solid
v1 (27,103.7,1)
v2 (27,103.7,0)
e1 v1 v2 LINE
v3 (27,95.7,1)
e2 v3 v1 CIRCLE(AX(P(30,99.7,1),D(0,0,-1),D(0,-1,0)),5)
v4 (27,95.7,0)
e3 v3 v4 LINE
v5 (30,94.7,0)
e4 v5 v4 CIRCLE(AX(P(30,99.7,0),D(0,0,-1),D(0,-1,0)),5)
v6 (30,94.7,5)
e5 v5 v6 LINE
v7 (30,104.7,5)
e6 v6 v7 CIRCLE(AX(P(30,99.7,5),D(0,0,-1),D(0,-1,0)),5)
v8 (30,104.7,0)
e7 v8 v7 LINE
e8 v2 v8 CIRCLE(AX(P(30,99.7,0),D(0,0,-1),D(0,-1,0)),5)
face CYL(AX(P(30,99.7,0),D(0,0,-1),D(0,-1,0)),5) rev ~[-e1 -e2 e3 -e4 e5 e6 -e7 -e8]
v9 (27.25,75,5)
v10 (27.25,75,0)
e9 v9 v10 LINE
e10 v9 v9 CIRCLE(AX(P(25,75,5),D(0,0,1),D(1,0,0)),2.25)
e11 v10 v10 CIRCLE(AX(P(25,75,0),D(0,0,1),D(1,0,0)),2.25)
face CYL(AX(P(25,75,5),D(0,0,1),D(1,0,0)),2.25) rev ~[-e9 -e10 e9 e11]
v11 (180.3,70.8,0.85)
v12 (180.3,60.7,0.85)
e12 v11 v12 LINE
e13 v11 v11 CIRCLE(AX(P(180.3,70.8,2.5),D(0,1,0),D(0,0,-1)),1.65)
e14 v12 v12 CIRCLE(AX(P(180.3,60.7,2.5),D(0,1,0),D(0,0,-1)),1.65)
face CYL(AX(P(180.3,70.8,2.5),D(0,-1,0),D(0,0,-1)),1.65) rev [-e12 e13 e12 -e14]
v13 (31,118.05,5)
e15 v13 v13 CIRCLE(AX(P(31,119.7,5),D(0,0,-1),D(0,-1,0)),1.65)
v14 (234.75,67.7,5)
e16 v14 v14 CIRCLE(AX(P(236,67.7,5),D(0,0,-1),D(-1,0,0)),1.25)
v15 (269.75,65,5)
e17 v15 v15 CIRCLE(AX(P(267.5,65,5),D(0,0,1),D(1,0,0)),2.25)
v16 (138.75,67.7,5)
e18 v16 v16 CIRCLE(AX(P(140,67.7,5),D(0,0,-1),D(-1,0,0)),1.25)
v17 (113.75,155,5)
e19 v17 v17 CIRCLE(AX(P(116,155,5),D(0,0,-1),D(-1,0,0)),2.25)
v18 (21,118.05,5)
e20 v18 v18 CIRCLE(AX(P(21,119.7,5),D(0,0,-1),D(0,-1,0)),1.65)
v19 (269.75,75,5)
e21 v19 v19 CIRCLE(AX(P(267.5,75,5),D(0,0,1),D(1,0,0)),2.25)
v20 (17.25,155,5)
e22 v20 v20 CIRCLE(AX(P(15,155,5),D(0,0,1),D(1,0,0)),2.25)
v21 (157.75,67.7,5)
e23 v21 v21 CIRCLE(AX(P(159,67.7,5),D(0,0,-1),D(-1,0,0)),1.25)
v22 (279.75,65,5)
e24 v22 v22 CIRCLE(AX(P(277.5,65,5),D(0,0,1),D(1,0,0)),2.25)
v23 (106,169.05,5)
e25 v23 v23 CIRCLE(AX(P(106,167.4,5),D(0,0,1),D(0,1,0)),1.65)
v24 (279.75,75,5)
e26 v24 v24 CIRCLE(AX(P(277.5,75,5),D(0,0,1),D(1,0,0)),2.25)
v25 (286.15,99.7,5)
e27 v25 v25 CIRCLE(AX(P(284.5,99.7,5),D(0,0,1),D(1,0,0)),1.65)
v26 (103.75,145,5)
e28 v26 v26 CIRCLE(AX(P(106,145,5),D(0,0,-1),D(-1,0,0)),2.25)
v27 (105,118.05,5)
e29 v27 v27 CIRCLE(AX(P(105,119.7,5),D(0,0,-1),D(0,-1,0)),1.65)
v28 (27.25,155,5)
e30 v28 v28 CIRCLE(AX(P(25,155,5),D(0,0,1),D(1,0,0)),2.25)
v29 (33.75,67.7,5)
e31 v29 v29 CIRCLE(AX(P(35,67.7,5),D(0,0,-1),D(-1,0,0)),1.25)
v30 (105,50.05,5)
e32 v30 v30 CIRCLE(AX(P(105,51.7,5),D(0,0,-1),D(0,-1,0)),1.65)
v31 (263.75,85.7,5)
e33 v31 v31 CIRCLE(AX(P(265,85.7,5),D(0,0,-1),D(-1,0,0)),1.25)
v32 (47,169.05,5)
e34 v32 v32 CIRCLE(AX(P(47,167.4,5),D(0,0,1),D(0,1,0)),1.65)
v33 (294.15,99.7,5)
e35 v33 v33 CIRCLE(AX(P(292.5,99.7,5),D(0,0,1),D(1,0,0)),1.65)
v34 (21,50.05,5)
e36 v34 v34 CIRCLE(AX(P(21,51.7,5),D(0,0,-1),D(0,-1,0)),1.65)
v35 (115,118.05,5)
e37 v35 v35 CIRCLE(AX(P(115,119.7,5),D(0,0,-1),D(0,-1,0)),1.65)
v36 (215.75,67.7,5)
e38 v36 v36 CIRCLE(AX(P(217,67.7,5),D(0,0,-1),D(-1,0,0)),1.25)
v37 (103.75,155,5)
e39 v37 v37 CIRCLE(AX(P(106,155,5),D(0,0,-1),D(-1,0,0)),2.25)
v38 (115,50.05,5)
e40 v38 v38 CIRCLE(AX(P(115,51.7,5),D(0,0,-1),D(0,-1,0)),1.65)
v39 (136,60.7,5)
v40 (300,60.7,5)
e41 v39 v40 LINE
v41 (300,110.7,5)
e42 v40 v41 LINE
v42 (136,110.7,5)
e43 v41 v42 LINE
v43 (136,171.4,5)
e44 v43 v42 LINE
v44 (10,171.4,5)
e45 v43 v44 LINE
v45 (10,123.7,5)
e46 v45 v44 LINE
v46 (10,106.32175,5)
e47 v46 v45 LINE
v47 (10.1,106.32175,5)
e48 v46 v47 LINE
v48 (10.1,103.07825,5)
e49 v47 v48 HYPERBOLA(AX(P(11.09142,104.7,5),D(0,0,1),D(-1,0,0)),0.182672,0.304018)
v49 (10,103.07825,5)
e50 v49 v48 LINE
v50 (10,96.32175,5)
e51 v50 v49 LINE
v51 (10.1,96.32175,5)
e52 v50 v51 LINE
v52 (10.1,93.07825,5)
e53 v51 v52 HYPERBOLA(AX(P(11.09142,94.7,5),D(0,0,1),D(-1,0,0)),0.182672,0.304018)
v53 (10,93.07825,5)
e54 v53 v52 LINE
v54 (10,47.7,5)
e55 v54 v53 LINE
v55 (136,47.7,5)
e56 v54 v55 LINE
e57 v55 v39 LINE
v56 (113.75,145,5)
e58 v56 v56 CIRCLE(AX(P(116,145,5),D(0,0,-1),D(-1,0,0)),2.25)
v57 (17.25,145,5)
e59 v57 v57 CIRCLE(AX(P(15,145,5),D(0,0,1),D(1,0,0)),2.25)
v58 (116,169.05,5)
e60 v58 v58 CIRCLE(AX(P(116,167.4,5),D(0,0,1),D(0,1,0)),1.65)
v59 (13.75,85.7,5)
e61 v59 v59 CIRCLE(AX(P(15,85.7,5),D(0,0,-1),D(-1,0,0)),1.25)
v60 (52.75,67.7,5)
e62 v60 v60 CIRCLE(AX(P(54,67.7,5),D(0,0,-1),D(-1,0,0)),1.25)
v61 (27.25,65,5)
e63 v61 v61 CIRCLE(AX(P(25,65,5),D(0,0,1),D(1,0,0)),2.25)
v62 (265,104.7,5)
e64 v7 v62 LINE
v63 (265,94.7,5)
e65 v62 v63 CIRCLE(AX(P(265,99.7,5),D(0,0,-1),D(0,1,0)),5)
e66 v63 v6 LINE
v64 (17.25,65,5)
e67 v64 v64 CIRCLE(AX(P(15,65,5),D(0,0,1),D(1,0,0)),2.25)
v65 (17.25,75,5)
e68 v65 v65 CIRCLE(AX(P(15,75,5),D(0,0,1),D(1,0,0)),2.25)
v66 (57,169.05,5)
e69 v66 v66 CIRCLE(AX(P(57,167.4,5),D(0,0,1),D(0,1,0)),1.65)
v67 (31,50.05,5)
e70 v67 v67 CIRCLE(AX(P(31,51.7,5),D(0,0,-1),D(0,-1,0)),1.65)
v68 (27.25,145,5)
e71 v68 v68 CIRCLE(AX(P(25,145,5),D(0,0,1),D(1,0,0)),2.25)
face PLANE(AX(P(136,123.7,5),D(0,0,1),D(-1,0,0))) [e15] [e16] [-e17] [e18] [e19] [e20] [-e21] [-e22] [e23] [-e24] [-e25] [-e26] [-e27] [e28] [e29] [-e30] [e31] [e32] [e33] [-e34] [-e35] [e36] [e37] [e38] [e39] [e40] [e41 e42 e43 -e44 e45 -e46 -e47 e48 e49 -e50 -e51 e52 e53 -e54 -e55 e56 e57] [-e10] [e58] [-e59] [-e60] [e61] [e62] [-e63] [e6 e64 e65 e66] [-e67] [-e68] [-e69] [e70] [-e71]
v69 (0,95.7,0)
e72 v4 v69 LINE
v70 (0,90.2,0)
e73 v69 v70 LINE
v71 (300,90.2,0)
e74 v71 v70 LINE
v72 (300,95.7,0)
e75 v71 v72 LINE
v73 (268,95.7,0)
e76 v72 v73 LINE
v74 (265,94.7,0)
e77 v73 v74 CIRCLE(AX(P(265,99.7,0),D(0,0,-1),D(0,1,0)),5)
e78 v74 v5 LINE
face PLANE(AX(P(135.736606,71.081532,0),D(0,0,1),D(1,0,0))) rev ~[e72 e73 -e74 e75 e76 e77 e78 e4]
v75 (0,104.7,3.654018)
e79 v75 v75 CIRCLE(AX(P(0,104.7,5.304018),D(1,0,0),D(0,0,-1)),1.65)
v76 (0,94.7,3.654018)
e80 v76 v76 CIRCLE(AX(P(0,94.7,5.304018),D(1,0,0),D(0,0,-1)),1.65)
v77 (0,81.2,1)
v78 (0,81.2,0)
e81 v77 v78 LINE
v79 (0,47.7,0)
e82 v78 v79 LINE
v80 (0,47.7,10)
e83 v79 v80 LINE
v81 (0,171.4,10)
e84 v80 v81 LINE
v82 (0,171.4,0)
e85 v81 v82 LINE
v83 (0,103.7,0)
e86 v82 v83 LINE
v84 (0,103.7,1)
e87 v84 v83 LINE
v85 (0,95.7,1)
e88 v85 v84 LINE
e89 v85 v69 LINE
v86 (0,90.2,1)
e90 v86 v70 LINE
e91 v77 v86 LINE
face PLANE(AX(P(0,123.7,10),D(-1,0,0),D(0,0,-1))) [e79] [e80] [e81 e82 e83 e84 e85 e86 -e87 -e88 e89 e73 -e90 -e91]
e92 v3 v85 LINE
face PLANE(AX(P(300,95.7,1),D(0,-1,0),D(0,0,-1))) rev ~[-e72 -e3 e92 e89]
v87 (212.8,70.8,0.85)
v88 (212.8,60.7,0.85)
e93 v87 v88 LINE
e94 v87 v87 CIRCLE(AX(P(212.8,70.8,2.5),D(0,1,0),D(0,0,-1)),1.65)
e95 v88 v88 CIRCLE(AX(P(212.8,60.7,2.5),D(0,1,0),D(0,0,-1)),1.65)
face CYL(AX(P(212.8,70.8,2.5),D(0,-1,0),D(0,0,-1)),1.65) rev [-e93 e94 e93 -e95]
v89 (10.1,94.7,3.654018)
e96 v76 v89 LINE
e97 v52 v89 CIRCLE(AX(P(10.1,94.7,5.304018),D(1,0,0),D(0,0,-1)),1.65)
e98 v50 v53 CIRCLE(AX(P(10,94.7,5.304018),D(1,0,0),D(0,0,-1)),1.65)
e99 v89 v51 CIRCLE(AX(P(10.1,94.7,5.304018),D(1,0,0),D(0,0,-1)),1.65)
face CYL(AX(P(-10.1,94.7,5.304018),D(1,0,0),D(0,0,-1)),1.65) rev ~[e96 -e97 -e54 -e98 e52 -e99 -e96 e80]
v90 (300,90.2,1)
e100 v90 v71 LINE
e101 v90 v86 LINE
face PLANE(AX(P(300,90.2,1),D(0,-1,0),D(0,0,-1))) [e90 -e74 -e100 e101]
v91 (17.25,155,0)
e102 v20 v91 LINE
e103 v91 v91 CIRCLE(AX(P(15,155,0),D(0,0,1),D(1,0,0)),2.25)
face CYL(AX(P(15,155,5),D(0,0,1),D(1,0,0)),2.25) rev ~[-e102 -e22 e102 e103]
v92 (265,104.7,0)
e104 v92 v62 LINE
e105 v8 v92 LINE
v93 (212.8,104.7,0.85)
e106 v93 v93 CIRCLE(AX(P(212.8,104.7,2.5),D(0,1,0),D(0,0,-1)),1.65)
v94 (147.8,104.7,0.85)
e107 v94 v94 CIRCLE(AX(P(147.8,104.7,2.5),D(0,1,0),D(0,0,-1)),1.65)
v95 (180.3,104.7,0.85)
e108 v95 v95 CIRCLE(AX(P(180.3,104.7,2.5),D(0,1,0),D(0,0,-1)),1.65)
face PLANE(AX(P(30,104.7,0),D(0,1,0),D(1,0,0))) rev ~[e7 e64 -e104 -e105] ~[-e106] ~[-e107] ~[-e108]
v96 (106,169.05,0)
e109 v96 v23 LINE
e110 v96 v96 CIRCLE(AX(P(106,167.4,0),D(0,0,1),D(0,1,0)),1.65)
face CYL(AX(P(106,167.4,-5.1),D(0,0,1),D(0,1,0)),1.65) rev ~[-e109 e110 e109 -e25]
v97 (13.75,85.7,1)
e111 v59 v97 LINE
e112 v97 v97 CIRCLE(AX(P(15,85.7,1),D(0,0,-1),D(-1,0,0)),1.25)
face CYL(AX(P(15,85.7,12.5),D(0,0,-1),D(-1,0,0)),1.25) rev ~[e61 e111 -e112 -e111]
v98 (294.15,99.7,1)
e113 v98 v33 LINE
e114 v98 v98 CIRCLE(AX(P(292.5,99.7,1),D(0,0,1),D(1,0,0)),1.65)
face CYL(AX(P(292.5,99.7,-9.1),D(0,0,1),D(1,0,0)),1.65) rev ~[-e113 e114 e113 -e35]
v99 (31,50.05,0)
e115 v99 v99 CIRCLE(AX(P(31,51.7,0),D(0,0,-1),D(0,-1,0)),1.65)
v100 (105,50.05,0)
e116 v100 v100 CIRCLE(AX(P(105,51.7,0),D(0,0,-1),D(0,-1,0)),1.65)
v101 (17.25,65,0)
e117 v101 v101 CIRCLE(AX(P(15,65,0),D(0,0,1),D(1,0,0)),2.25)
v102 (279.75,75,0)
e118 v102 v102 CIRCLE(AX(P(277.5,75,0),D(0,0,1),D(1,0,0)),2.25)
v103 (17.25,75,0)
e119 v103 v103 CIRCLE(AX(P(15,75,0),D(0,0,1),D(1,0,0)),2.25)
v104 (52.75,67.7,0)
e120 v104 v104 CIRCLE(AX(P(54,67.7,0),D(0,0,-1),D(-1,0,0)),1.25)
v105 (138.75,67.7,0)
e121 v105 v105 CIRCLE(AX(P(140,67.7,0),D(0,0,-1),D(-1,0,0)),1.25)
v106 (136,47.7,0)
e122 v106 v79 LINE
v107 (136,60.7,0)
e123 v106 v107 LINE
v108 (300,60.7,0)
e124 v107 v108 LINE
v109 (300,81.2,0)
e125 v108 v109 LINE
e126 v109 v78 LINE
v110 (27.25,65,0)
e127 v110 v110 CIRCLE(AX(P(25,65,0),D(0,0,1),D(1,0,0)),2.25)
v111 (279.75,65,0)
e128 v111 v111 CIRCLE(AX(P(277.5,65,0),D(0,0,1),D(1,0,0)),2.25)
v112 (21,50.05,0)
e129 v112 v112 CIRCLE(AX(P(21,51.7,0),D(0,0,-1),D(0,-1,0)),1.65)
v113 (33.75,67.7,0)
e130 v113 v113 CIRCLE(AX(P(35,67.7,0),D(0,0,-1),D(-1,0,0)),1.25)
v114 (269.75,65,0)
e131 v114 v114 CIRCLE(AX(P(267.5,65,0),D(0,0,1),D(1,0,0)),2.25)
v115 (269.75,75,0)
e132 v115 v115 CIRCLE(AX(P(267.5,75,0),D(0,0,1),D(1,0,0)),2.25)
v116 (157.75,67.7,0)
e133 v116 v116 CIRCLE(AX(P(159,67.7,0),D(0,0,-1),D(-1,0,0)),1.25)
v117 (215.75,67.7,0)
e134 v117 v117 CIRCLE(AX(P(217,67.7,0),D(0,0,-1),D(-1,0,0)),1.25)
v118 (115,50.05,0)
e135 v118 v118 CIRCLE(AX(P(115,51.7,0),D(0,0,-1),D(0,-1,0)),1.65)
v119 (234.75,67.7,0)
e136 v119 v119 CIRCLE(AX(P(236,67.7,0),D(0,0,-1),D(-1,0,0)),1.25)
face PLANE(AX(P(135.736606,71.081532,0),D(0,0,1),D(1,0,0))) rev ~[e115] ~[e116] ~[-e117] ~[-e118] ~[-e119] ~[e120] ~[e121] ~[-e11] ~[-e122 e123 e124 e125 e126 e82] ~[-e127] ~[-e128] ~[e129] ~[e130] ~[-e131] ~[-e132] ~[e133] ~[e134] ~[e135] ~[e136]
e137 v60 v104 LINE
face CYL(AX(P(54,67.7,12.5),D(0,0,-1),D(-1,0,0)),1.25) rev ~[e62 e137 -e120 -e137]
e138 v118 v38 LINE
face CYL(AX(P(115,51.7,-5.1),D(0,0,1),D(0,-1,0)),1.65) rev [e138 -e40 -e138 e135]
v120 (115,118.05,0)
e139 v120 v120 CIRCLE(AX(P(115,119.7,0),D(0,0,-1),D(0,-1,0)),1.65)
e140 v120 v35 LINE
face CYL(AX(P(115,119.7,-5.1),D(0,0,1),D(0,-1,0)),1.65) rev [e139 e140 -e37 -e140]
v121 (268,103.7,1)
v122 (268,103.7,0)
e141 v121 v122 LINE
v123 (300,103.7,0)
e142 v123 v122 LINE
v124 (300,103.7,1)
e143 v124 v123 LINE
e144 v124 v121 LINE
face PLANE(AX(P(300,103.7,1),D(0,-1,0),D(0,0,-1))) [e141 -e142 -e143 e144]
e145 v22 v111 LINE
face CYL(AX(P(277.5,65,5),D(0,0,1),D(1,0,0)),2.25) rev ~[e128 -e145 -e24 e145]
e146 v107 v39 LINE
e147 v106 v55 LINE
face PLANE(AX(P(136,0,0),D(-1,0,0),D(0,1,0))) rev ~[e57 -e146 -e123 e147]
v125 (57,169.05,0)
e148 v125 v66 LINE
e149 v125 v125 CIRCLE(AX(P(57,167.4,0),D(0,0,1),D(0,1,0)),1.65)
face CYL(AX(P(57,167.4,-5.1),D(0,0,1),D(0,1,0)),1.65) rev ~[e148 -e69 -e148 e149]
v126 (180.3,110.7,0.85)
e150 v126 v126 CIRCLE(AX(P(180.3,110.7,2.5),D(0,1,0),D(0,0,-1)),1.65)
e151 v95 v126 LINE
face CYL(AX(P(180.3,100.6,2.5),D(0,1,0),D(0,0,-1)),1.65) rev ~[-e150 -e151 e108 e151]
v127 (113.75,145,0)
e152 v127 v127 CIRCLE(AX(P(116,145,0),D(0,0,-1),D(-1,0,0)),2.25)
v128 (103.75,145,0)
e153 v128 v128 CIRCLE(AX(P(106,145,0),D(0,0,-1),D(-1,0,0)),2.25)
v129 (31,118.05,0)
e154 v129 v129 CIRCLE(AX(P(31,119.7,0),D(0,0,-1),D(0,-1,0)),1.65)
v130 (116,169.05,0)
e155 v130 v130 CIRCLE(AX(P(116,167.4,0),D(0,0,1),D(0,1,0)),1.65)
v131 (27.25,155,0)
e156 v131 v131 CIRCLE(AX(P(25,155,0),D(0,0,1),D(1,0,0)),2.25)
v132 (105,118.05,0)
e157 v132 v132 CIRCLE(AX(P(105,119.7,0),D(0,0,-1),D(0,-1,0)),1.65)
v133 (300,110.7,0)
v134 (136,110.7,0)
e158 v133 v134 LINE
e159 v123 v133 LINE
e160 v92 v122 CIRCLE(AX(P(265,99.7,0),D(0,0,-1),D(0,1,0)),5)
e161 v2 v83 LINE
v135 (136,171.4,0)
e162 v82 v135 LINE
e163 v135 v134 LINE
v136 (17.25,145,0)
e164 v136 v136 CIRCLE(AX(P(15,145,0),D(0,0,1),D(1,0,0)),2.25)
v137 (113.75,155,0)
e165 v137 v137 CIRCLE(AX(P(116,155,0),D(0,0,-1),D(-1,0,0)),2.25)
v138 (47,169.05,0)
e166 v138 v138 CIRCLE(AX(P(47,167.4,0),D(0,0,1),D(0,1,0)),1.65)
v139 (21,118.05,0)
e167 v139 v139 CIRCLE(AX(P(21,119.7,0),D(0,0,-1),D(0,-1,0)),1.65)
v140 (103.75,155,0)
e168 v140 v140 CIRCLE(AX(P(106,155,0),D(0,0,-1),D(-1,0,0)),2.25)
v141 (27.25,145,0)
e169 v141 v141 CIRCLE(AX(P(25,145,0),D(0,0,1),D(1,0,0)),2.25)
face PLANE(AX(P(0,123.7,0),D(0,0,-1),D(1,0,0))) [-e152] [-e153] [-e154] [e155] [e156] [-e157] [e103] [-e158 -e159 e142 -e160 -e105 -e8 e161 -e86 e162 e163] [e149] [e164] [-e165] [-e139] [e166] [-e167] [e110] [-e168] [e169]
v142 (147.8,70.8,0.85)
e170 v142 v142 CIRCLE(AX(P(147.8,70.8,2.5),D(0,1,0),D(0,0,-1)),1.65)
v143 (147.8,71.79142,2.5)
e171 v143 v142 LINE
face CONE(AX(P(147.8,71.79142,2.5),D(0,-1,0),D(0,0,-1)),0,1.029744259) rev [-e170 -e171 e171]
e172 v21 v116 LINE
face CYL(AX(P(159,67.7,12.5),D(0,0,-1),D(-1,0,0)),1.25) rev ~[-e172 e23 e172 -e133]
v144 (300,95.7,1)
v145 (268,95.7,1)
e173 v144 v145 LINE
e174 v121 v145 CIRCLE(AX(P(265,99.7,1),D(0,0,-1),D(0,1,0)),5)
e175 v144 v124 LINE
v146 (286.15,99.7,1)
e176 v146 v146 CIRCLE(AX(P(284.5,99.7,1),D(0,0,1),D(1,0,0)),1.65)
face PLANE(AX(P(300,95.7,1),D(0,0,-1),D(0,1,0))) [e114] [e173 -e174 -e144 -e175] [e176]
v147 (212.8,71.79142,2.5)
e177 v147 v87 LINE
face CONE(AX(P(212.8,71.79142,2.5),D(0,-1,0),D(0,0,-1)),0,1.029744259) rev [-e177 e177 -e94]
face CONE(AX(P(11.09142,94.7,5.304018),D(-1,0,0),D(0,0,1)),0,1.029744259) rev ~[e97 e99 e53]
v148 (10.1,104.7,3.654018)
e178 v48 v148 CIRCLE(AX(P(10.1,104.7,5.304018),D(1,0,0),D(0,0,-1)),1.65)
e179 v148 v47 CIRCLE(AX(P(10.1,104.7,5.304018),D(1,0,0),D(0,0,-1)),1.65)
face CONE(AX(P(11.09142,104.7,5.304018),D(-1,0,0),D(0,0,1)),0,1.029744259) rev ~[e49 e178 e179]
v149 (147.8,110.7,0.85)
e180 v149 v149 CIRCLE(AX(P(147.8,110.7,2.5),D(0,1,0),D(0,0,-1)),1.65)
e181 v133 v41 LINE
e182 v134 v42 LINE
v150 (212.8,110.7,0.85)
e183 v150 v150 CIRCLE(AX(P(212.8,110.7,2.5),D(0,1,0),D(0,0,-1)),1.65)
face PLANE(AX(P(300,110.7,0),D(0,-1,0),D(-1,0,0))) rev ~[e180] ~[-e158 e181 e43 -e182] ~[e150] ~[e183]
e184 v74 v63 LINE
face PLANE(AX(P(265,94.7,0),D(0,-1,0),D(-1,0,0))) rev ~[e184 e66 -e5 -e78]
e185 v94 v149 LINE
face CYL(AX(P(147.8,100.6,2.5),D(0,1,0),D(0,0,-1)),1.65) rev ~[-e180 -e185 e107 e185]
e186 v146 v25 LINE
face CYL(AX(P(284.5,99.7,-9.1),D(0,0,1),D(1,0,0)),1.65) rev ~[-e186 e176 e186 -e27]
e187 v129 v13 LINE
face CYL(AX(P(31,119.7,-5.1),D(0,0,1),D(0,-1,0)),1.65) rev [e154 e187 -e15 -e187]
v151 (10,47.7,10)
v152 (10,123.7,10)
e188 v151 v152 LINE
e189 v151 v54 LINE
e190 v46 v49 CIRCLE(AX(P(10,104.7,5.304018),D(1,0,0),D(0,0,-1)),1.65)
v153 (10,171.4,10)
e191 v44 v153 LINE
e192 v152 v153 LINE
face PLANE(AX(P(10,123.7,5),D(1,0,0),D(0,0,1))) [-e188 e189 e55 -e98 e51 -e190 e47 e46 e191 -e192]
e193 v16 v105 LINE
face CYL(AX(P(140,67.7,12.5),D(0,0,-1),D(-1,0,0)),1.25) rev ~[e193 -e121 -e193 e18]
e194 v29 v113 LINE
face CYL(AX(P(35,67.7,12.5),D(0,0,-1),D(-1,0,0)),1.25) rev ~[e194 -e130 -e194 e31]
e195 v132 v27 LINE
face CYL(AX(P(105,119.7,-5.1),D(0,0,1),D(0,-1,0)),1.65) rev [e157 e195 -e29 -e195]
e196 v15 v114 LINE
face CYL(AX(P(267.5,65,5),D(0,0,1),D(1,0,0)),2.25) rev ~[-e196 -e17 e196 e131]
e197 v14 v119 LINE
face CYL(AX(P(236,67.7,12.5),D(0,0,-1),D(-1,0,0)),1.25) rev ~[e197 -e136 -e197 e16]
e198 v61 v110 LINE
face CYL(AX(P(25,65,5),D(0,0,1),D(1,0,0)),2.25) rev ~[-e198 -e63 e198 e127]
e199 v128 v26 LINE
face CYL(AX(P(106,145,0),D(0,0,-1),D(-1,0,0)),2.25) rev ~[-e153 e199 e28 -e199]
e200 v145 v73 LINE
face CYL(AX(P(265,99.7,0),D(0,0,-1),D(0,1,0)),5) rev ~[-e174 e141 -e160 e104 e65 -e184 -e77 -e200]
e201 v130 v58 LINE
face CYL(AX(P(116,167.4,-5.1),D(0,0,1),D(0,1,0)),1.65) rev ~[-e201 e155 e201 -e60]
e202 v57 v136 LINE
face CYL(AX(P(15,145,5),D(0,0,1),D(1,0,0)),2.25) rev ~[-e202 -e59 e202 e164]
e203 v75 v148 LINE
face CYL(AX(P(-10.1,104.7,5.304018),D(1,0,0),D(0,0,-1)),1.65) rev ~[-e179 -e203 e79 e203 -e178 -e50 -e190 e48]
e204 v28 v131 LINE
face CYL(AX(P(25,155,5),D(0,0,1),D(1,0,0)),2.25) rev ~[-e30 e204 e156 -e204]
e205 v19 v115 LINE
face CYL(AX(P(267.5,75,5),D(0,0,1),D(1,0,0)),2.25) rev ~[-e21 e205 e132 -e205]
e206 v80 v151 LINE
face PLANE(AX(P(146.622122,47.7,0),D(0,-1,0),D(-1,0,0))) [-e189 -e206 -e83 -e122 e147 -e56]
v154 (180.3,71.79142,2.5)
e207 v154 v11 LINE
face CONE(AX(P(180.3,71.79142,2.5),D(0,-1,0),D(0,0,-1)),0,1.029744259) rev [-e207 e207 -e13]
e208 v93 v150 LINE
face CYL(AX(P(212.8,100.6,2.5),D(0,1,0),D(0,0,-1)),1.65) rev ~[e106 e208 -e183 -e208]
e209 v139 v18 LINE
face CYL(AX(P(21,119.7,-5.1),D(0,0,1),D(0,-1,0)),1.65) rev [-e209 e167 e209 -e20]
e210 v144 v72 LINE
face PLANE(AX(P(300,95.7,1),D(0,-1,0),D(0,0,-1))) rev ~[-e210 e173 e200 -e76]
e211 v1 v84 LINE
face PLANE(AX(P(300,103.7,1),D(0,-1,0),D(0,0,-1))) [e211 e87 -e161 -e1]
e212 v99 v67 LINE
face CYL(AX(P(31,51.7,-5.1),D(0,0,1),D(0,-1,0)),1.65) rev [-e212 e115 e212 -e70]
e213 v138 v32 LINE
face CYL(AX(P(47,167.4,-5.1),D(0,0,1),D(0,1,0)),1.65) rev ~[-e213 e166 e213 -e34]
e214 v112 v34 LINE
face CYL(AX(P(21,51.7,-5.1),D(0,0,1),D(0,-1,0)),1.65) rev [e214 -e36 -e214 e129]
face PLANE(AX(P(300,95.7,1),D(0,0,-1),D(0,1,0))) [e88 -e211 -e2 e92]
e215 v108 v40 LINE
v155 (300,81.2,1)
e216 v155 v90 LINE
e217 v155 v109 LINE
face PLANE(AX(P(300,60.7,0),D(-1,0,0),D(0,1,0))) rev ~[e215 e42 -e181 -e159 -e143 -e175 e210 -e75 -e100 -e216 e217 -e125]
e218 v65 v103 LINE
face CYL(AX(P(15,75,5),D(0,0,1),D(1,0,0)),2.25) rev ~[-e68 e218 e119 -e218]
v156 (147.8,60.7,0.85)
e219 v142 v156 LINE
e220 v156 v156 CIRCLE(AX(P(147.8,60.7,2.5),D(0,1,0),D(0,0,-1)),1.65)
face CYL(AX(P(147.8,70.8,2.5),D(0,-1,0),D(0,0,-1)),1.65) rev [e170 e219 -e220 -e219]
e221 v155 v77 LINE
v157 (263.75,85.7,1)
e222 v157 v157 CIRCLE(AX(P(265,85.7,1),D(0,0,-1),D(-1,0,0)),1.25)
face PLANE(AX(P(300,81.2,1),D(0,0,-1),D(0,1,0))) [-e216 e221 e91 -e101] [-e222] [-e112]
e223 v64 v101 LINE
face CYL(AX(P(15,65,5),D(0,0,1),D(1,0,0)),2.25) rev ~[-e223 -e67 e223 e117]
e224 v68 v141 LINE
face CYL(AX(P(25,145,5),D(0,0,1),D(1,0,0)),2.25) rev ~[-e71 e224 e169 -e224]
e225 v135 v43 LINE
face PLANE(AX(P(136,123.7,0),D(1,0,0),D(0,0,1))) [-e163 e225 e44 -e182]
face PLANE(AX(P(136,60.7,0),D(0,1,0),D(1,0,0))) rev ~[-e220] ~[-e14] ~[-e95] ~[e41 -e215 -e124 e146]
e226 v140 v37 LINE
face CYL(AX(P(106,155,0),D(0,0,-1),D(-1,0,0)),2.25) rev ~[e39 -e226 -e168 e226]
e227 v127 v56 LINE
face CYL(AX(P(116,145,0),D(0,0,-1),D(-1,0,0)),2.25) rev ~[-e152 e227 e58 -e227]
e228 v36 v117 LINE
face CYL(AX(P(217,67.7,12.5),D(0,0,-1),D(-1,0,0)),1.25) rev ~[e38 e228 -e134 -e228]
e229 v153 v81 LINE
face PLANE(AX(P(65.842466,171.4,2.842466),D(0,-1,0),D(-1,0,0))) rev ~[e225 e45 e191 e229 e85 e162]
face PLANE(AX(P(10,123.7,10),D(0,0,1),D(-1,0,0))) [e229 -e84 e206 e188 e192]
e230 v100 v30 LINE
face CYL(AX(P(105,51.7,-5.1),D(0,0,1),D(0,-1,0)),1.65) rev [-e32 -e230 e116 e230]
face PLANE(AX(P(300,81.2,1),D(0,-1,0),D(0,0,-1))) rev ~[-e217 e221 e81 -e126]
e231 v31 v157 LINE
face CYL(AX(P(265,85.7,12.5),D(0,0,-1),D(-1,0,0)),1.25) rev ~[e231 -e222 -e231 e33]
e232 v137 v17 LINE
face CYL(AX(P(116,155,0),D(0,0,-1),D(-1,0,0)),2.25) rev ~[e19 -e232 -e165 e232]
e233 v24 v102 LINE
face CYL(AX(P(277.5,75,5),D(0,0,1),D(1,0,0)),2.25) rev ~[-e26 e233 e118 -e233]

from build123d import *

# Parameters (mm, degrees)
EXTRUDE_1_DEPTH                  = 10
SKETCH_5_W                       = 1
SKETCH_5_H                       = 8
SKETCH_5_H_2                     = 9
CUT_EXTRUDE_1_DEPTH              = 301
HOLE_WIZARD_M4_1_D               = 3.3
HOLE_WIZARD_M4_1_DEPTH           = 10.1
HOLE_WIZARD_M4_1_TIP             = 0.991420021
SKETCH_8_W                       = 306.524855593
SKETCH_8_H                       = 162.762615977
CUT_EXTRUDE_2_DEPTH              = 5
HOLE_WIZARD_M4_2_AT_2_COUNT      = 2
HOLE_WIZARD_M4_2_AT_2_PITCH      = 10
HOLE_WIZARD_M4_2_AT_3_COUNT      = 2
HOLE_WIZARD_M4_2_AT_3_PITCH      = 84
HOLE_WIZARD_M4_2_AT_4_COUNT      = 2
HOLE_WIZARD_M4_2_AT_4_PITCH      = 94
HOLE_WIZARD_M4_2_AT_5_COUNT      = 2
HOLE_WIZARD_M4_2_AT_5_PITCH      = 68
HOLE_WIZARD_M4_2_AT_6_COUNT      = 2
HOLE_WIZARD_M4_2_AT_6_PITCH      = 68.73136111
HOLE_WIZARD_M4_2_AT_7_COUNT      = 2
HOLE_WIZARD_M4_2_AT_7_PITCH      = 108.074048689
HOLE_WIZARD_M4_2_AT_8_COUNT      = 2
HOLE_WIZARD_M4_2_AT_8_PITCH      = 116.017240098
HOLE_WIZARD_M4_2_AT_9_COUNT      = 2
HOLE_WIZARD_M4_2_AT_9_PITCH      = 118.585370093
HOLE_WIZARD_M4_2_AT_10_COUNT     = 2
HOLE_WIZARD_M4_2_AT_10_PITCH     = 121.171324991
HOLE_WIZARD_M4_2_AT_11_COUNT     = 2
HOLE_WIZARD_M4_2_AT_11_PITCH     = 143.567022676
HOLE_WIZARD_M4_2_AT_12_COUNT     = 2
HOLE_WIZARD_M4_2_AT_12_PITCH     = 149.704675946
HOLE_WIZARD_M3_1_D               = 2.5
HOLE_WIZARD_M3_1_DEPTH           = 7.5
HOLE_WIZARD_M3_1_TIP             = 0.751075774
HOLE_WIZARD_M3_2_D               = 2.5
HOLE_WIZARD_M3_2_DEPTH           = 7.5
HOLE_WIZARD_M3_2_TIP             = 0.751075774
SKETCH_15_R                      = 2.25
CUT_EXTRUDE_3_DEPTH              = 5
PATTERN_LINEAR_1_COUNT           = 2
PATTERN_LINEAR_1_PITCH           = 252.5
PATTERN_LINEAR_2_COUNT           = 2
PATTERN_LINEAR_2_PITCH           = 35
PATTERN_LINEAR_3_COUNT           = 2
PATTERN_LINEAR_3_PITCH           = 100
PATTERN_LINEAR_3_COPY_1_SKETCH_R = 2.25
PATTERN_LINEAR_3_COPY_1_DEPTH    = 5
SKETCH_16_W                      = 24.801944155
SKETCH_16_H                      = 22.086368347
EXTRUDE_2_DEPTH                  = 5
HOLE_WIZARD_M4_3_AT_2_COUNT      = 2
HOLE_WIZARD_M4_3_AT_2_PITCH      = 32.5
HOLE_WIZARD_M4_3_AT_3_COUNT      = 2
HOLE_WIZARD_M4_3_AT_3_PITCH      = 65
HOLE_WIZARD_M4_4_D               = 3.3
HOLE_WIZARD_M4_4_DEPTH           = 10.1
HOLE_WIZARD_M4_4_TIP             = 0.991420021
EXTRUDE_3_DEPTH                  = 47.7
SKETCH_24_W                      = 146.622122201
SKETCH_24_H                      = 84.687894877
CUT_EXTRUDE_4_DEPTH              = 47.7
PATTERN_LINEAR_4_COUNT           = 2
PATTERN_LINEAR_4_PITCH           = 80
SKETCH_25_R                      = 2.25
CUT_EXTRUDE_5_DEPTH              = 10


with BuildPart() as part:
    # 草图4 → 凸台-拉伸1 (new body)
    with BuildSketch(Plane.XY):
        Polygon((0, 0), (136, 0), (136, 60.7), (300, 60.7), (300, 110.7), (136, 110.7), (136, 123.7), (0, 123.7), align=None)
        with BuildLine():
            Line((30, 104.7), (265, 104.7))
            ThreePointArc((265, 104.7), (270, 99.7), (265, 94.7))
            Line((265, 94.7), (30, 94.7))
            ThreePointArc((30, 94.7), (25, 99.7), (30, 104.7))
        make_face(mode=Mode.SUBTRACT)
    extrude(amount=EXTRUDE_1_DEPTH)

    # 草图5 → 切除-拉伸1 (cut, through all)
    with BuildSketch(Plane(origin=(300, 0, 0), x_dir=(0, 0, -1), z_dir=(1, 0, 0))):
        with Locations((-0.5, 99.7)):
            Rectangle(SKETCH_5_W, SKETCH_5_H)
        with Locations((-0.5, 85.7)):
            Rectangle(SKETCH_5_W, SKETCH_5_H_2)
    extrude(amount=-CUT_EXTRUDE_1_DEPTH, mode=Mode.SUBTRACT)

    # M4 螺纹孔1
    with Locations(Plane.ZY):
        with Locations((5.304017572, 104.7), (5.304017572, 94.7)):
            Hole(HOLE_WIZARD_M4_1_D / 2, depth=HOLE_WIZARD_M4_1_DEPTH)
            with Locations((0, 0, -(HOLE_WIZARD_M4_1_DEPTH + HOLE_WIZARD_M4_1_TIP / 2))):  # 118° drill point
                Cone(0, HOLE_WIZARD_M4_1_D / 2, HOLE_WIZARD_M4_1_TIP, mode=Mode.SUBTRACT)

    # 草图8 → 切除-拉伸2 (cut)
    with BuildSketch(Plane.XY.offset(10)):
        with Locations((163.262427797, 42.318692012)):
            Rectangle(SKETCH_8_W, SKETCH_8_H)
    extrude(amount=-CUT_EXTRUDE_2_DEPTH, mode=Mode.SUBTRACT)

    # 草图10 → M4 螺纹孔2 (revolve, cut)
    with BuildSketch(Plane(origin=(21, 119.7, 5), x_dir=(0, -1, 0), z_dir=(1, 0, 0))):
        Polygon((0, 0), (0, 11.091420021), (1.65, 10.1), (1.65, 0), align=None)
    hole_wizard_m4_2 = revolve(axis=Axis((21, 119.7, 11.35), (0, 0, -1)), mode=Mode.SUBTRACT)

    # M4 螺纹孔2 at 2: M4 螺纹孔2 ×2
    with Locations(*[(i * HOLE_WIZARD_M4_2_AT_2_PITCH, 0, 0) for i in range(1, HOLE_WIZARD_M4_2_AT_2_COUNT)]):
        add(hole_wizard_m4_2, mode=Mode.SUBTRACT)

    # M4 螺纹孔2 at 3: M4 螺纹孔2 ×2
    with Locations(*[(i * HOLE_WIZARD_M4_2_AT_3_PITCH, 0, 0) for i in range(1, HOLE_WIZARD_M4_2_AT_3_COUNT)]):
        add(hole_wizard_m4_2, mode=Mode.SUBTRACT)

    # M4 螺纹孔2 at 4: M4 螺纹孔2 ×2
    with Locations(*[(i * HOLE_WIZARD_M4_2_AT_4_PITCH, 0, 0) for i in range(1, HOLE_WIZARD_M4_2_AT_4_COUNT)]):
        add(hole_wizard_m4_2, mode=Mode.SUBTRACT)

    # M4 螺纹孔2 at 5: M4 螺纹孔2 ×2
    with Locations(*[(0, -i * HOLE_WIZARD_M4_2_AT_5_PITCH, 0) for i in range(1, HOLE_WIZARD_M4_2_AT_5_COUNT)]):
        add(hole_wizard_m4_2, mode=Mode.SUBTRACT)

    # M4 螺纹孔2 at 6: M4 螺纹孔2 ×2
    with Locations(*[Vector(0.14549399, -0.989359135, 0) * (i * HOLE_WIZARD_M4_2_AT_6_PITCH) for i in range(1, HOLE_WIZARD_M4_2_AT_6_COUNT)]):
        add(hole_wizard_m4_2, mode=Mode.SUBTRACT)

    # M4 螺纹孔2 at 7: M4 螺纹孔2 ×2
    with Locations(*[Vector(0.777244871, -0.629198229, 0) * (i * HOLE_WIZARD_M4_2_AT_7_PITCH) for i in range(1, HOLE_WIZARD_M4_2_AT_7_COUNT)]):
        add(hole_wizard_m4_2, mode=Mode.SUBTRACT)

    # M4 螺纹孔2 at 8: M4 螺纹孔2 ×2
    with Locations(*[Vector(0.810224411, -0.586119787, 0) * (i * HOLE_WIZARD_M4_2_AT_8_PITCH) for i in range(1, HOLE_WIZARD_M4_2_AT_8_COUNT)]):
        add(hole_wizard_m4_2, mode=Mode.SUBTRACT)

    # M4 螺纹孔2 at 9: M4 螺纹孔2 ×2
    with Locations(*[Vector(0.219251329, -0.975668414, 0) * (i * HOLE_WIZARD_M4_2_AT_9_PITCH) for i in range(1, HOLE_WIZARD_M4_2_AT_9_COUNT)]):
        add(hole_wizard_m4_2, mode=Mode.SUBTRACT)

    # M4 螺纹孔2 at 10: M4 螺纹孔2 ×2
    with Locations(*[Vector(0.297099995, -0.954846372, 0) * (i * HOLE_WIZARD_M4_2_AT_10_PITCH) for i in range(1, HOLE_WIZARD_M4_2_AT_10_COUNT)]):
        add(hole_wizard_m4_2, mode=Mode.SUBTRACT)

    # M4 螺纹孔2 at 11: M4 螺纹孔2 ×2
    with Locations(*[Vector(0.59205797, -0.805895378, 0) * (i * HOLE_WIZARD_M4_2_AT_11_PITCH) for i in range(1, HOLE_WIZARD_M4_2_AT_11_COUNT)]):
        add(hole_wizard_m4_2, mode=Mode.SUBTRACT)

    # M4 螺纹孔2 at 12: M4 螺纹孔2 ×2
    with Locations(*[Vector(0.634582717, -0.772854951, 0) * (i * HOLE_WIZARD_M4_2_AT_12_PITCH) for i in range(1, HOLE_WIZARD_M4_2_AT_12_COUNT)]):
        add(hole_wizard_m4_2, mode=Mode.SUBTRACT)

    # M3 螺纹孔1
    with Locations(Plane.XY.offset(5)):
        with Locations((15, 85.7), (265, 85.7)):
            Hole(HOLE_WIZARD_M3_1_D / 2, depth=HOLE_WIZARD_M3_1_DEPTH)
            with Locations((0, 0, -(HOLE_WIZARD_M3_1_DEPTH + HOLE_WIZARD_M3_1_TIP / 2))):  # 118° drill point
                Cone(0, HOLE_WIZARD_M3_1_D / 2, HOLE_WIZARD_M3_1_TIP, mode=Mode.SUBTRACT)

    # M3 螺纹孔2
    with Locations(Plane.XY.offset(5)):
        with Locations((35, 67.7), (54, 67.7), (140, 67.7), (159, 67.7), (217, 67.7), (236, 67.7)):
            Hole(HOLE_WIZARD_M3_2_D / 2, depth=HOLE_WIZARD_M3_2_DEPTH)
            with Locations((0, 0, -(HOLE_WIZARD_M3_2_DEPTH + HOLE_WIZARD_M3_2_TIP / 2))):  # 118° drill point
                Cone(0, HOLE_WIZARD_M3_2_D / 2, HOLE_WIZARD_M3_2_TIP, mode=Mode.SUBTRACT)

    # 草图15 → 切除-拉伸3 (cut)
    with BuildSketch(Plane.XY.offset(5)):
        with Locations((15, 75)):
            Circle(SKETCH_15_R)
        with Locations((25, 75)):
            Circle(SKETCH_15_R)
        with Locations((25, 65)):
            Circle(SKETCH_15_R)
        with Locations((15, 65)):
            Circle(SKETCH_15_R)
    cut_extrude_3 = extrude(amount=-CUT_EXTRUDE_3_DEPTH, mode=Mode.SUBTRACT)

    # 阵列(线性)1: 切除-拉伸3 ×2
    with Locations(*[(i * PATTERN_LINEAR_1_PITCH, 0, 0) for i in range(1, PATTERN_LINEAR_1_COUNT)]):
        add(cut_extrude_3, mode=Mode.SUBTRACT)

    # 阵列(线性)2: 切除-拉伸3 ×2
    with Locations(*[(0, -i * PATTERN_LINEAR_2_PITCH, 0) for i in range(1, PATTERN_LINEAR_2_COUNT)]):
        add(cut_extrude_3, mode=Mode.SUBTRACT)

    # 阵列(线性)3: 切除-拉伸3 ×2
    with Locations(*[(i * PATTERN_LINEAR_3_PITCH, 0, 0) for i in range(1, PATTERN_LINEAR_3_COUNT)]):
        add(cut_extrude_3, mode=Mode.SUBTRACT)

    # 阵列(线性)3 copy 1 sketch → 阵列(线性)3 copy 1 (cut)
    with BuildSketch(Plane(origin=(100, -35, 5), x_dir=(1, 0, 0), z_dir=(0, 0, 1))):
        with Locations((15, 75)):
            Circle(PATTERN_LINEAR_3_COPY_1_SKETCH_R)
        with Locations((25, 75)):
            Circle(PATTERN_LINEAR_3_COPY_1_SKETCH_R)
        with Locations((25, 65)):
            Circle(PATTERN_LINEAR_3_COPY_1_SKETCH_R)
        with Locations((15, 65)):
            Circle(PATTERN_LINEAR_3_COPY_1_SKETCH_R)
    extrude(amount=-PATTERN_LINEAR_3_COPY_1_DEPTH, mode=Mode.SUBTRACT)

    # 草图16 → 凸台-拉伸2 (add)
    with BuildSketch(Plane.XY.offset(5)):
        with Locations((117.7891907, 70.013681934)):
            Rectangle(SKETCH_16_W, SKETCH_16_H)
    extrude(amount=-EXTRUDE_2_DEPTH)

    # 草图18 → M4 螺纹孔3 (revolve, cut)
    with BuildSketch(Plane(origin=(147.8, 60.7, 2.5), x_dir=(0, 0, -1), z_dir=(1, 0, 0))):
        Polygon((0, 0), (0, 11.091420021), (1.65, 10.1), (1.65, 0), align=None)
    hole_wizard_m4_3 = revolve(axis=Axis((147.8, 54.35, 2.5), (0, 1, 0)), mode=Mode.SUBTRACT)

    # M4 螺纹孔3 at 2: M4 螺纹孔3 ×2
    with Locations(*[(i * HOLE_WIZARD_M4_3_AT_2_PITCH, 0, 0) for i in range(1, HOLE_WIZARD_M4_3_AT_2_COUNT)]):
        add(hole_wizard_m4_3, mode=Mode.SUBTRACT)

    # M4 螺纹孔3 at 3: M4 螺纹孔3 ×2
    with Locations(*[(i * HOLE_WIZARD_M4_3_AT_3_PITCH, 0, 0) for i in range(1, HOLE_WIZARD_M4_3_AT_3_COUNT)]):
        add(hole_wizard_m4_3, mode=Mode.SUBTRACT)

    # 镜向1: M4 螺纹孔3 across plane
    add(hole_wizard_m4_3.mirror(Plane(origin=(0, 85.7, 0), x_dir=(0, 0, 1), z_dir=(0, -1, 0))), mode=Mode.SUBTRACT)

    # 镜向1 copy 1 sketch → 镜向1 copy 1 (revolve, cut)
    with BuildSketch(Plane(origin=(180.3, 110.7, 2.5), x_dir=(0, 0, -1), z_dir=(1, 0, 0))):
        Polygon((0, 0), (0, -11.091420021), (1.65, -10.1), (1.65, 0), align=None)
    revolve(axis=Axis((180.3, 117.05, 2.5), (0, 1, 0)), mode=Mode.SUBTRACT)

    # 镜向1 copy 2 sketch → 镜向1 copy 2 (revolve, cut)
    with BuildSketch(Plane(origin=(212.8, 110.7, 2.5), x_dir=(0, 0, -1), z_dir=(1, 0, 0))):
        Polygon((0, 0), (0, -11.091420021), (1.65, -10.1), (1.65, 0), align=None)
    revolve(axis=Axis((212.8, 117.05, 2.5), (0, 1, 0)), mode=Mode.SUBTRACT)

    # M4 螺纹孔4
    with Locations(Plane(origin=(0, 0, 1), x_dir=(-1, 0, 0), z_dir=(0, 0, -1))):
        with Locations((-284.5, 99.7), (-292.5, 99.7)):
            Hole(HOLE_WIZARD_M4_4_D / 2, depth=HOLE_WIZARD_M4_4_DEPTH)
            with Locations((0, 0, -(HOLE_WIZARD_M4_4_DEPTH + HOLE_WIZARD_M4_4_TIP / 2))):  # 118° drill point
                Cone(0, HOLE_WIZARD_M4_4_D / 2, HOLE_WIZARD_M4_4_TIP, mode=Mode.SUBTRACT)

    # 草图21 → 凸台-拉伸3 (add)
    with BuildSketch(Plane(origin=(0, 123.7, 0), x_dir=(1, 0, 0), z_dir=(0, 1, 0))):
        Polygon((0, -10), (0, 0), (136, 0), (136, -5), (10, -5), (10, -10), align=None)
    extrude(amount=EXTRUDE_3_DEPTH)

    # 镜向2: M4 螺纹孔2 across plane
    add(hole_wizard_m4_2.mirror(Plane(origin=(0, 85.7, 0), x_dir=(0, 0, 1), z_dir=(0, -1, 0))), mode=Mode.SUBTRACT)

    # 镜向2 copy 1 sketch → 镜向2 copy 1 (revolve, cut)
    with BuildSketch(Plane(origin=(31, 51.7, 5), x_dir=(0, 1, 0), z_dir=(1, 0, 0))):
        Polygon((0, 0), (0, -11.091420021), (1.65, -10.1), (1.65, 0), align=None)
    revolve(axis=Axis((31, 51.7, 11.35), (0, 0, 1)), mode=Mode.SUBTRACT)

    # 镜向2 copy 2 sketch → 镜向2 copy 2 (revolve, cut)
    with BuildSketch(Plane(origin=(105, 51.7, 5), x_dir=(0, 1, 0), z_dir=(1, 0, 0))):
        Polygon((0, 0), (0, -11.091420021), (1.65, -10.1), (1.65, 0), align=None)
    revolve(axis=Axis((105, 51.7, 11.35), (0, 0, 1)), mode=Mode.SUBTRACT)

    # 镜向2 copy 3 sketch → 镜向2 copy 3 (revolve, cut)
    with BuildSketch(Plane(origin=(115, 51.7, 5), x_dir=(0, 1, 0), z_dir=(1, 0, 0))):
        Polygon((0, 0), (0, -11.091420021), (1.65, -10.1), (1.65, 0), align=None)
    revolve(axis=Axis((115, 51.7, 11.35), (0, 0, 1)), mode=Mode.SUBTRACT)

    # 镜向2 copy 4 sketch → 镜向2 copy 4 (revolve, cut)
    with BuildSketch(Plane(origin=(21, 119.7, 5), x_dir=(0, 1, 0), z_dir=(1, 0, 0))):
        Polygon((0, 0), (0, -11.091420021), (1.65, -10.1), (1.65, 0), align=None)
    revolve(axis=Axis((21, 119.7, 11.35), (0, 0, 1)), mode=Mode.SUBTRACT)

    # 镜向2 copy 5 sketch → 镜向2 copy 5 (revolve, cut)
    with BuildSketch(Plane(origin=(31, 119.7, 5), x_dir=(0, 1, 0), z_dir=(1, 0, 0))):
        Polygon((0, 0), (0, -11.091420021), (1.65, -10.1), (1.65, 0), align=None)
    revolve(axis=Axis((31, 119.7, 11.35), (0, 0, 1)), mode=Mode.SUBTRACT)

    # 镜向2 copy 6 sketch → 镜向2 copy 6 (revolve, cut)
    with BuildSketch(Plane(origin=(105, 119.7, 5), x_dir=(0, 1, 0), z_dir=(1, 0, 0))):
        Polygon((0, 0), (0, -11.091420021), (1.65, -10.1), (1.65, 0), align=None)
    revolve(axis=Axis((105, 119.7, 11.35), (0, 0, 1)), mode=Mode.SUBTRACT)

    # 镜向2 copy 7 sketch → 镜向2 copy 7 (revolve, cut)
    with BuildSketch(Plane(origin=(115, 119.7, 5), x_dir=(0, 1, 0), z_dir=(1, 0, 0))):
        Polygon((0, 0), (0, -11.091420021), (1.65, -10.1), (1.65, 0), align=None)
    revolve(axis=Axis((115, 119.7, 11.35), (0, 0, 1)), mode=Mode.SUBTRACT)

    # 镜向2 copy 8 sketch → 镜向2 copy 8 (revolve, cut)
    with BuildSketch(Plane(origin=(47, 167.4, 5), x_dir=(0, 1, 0), z_dir=(1, 0, 0))):
        Polygon((0, 0), (0, -11.091420021), (1.65, -10.1), (1.65, 0), align=None)
    revolve(axis=Axis((47, 167.4, 11.35), (0, 0, 1)), mode=Mode.SUBTRACT)

    # 镜向2 copy 9 sketch → 镜向2 copy 9 (revolve, cut)
    with BuildSketch(Plane(origin=(57, 167.4, 5), x_dir=(0, 1, 0), z_dir=(1, 0, 0))):
        Polygon((0, 0), (0, -11.091420021), (1.65, -10.1), (1.65, 0), align=None)
    revolve(axis=Axis((57, 167.4, 11.35), (0, 0, 1)), mode=Mode.SUBTRACT)

    # 镜向2 copy 10 sketch → 镜向2 copy 10 (revolve, cut)
    with BuildSketch(Plane(origin=(106, 167.4, 5), x_dir=(0, 1, 0), z_dir=(1, 0, 0))):
        Polygon((0, 0), (0, -11.091420021), (1.65, -10.1), (1.65, 0), align=None)
    revolve(axis=Axis((106, 167.4, 11.35), (0, 0, 1)), mode=Mode.SUBTRACT)

    # 镜向2 copy 11 sketch → 镜向2 copy 11 (revolve, cut)
    with BuildSketch(Plane(origin=(116, 167.4, 5), x_dir=(0, 1, 0), z_dir=(1, 0, 0))):
        Polygon((0, 0), (0, -11.091420021), (1.65, -10.1), (1.65, 0), align=None)
    revolve(axis=Axis((116, 167.4, 11.35), (0, 0, 1)), mode=Mode.SUBTRACT)

    # 草图24 → 切除-拉伸4 (cut)
    with BuildSketch(Plane(origin=(0, 0, 0), x_dir=(-1, 0, 0), z_dir=(0, 0, -1))):
        with Locations((-73.3110611, 5.356052562)):
            Rectangle(SKETCH_24_W, SKETCH_24_H)
    extrude(amount=-CUT_EXTRUDE_4_DEPTH, mode=Mode.SUBTRACT)

    # 阵列(线性)4: 切除-拉伸3 ×2
    with Locations(*[(0, i * PATTERN_LINEAR_4_PITCH, 0) for i in range(1, PATTERN_LINEAR_4_COUNT)]):
        add(cut_extrude_3, mode=Mode.SUBTRACT)

    # 草图25 → 切除-拉伸5 (cut)
    with BuildSketch(Plane(origin=(0, 0, 0), x_dir=(-1, 0, 0), z_dir=(0, 0, -1))):
        with Locations((-106, 145)):
            Circle(SKETCH_25_R)
        with Locations((-116, 145)):
            Circle(SKETCH_25_R)
        with Locations((-116, 155)):
            Circle(SKETCH_25_R)
        with Locations((-106, 155)):
            Circle(SKETCH_25_R)
    extrude(amount=-CUT_EXTRUDE_5_DEPTH, mode=Mode.SUBTRACT)


solid = part.part
